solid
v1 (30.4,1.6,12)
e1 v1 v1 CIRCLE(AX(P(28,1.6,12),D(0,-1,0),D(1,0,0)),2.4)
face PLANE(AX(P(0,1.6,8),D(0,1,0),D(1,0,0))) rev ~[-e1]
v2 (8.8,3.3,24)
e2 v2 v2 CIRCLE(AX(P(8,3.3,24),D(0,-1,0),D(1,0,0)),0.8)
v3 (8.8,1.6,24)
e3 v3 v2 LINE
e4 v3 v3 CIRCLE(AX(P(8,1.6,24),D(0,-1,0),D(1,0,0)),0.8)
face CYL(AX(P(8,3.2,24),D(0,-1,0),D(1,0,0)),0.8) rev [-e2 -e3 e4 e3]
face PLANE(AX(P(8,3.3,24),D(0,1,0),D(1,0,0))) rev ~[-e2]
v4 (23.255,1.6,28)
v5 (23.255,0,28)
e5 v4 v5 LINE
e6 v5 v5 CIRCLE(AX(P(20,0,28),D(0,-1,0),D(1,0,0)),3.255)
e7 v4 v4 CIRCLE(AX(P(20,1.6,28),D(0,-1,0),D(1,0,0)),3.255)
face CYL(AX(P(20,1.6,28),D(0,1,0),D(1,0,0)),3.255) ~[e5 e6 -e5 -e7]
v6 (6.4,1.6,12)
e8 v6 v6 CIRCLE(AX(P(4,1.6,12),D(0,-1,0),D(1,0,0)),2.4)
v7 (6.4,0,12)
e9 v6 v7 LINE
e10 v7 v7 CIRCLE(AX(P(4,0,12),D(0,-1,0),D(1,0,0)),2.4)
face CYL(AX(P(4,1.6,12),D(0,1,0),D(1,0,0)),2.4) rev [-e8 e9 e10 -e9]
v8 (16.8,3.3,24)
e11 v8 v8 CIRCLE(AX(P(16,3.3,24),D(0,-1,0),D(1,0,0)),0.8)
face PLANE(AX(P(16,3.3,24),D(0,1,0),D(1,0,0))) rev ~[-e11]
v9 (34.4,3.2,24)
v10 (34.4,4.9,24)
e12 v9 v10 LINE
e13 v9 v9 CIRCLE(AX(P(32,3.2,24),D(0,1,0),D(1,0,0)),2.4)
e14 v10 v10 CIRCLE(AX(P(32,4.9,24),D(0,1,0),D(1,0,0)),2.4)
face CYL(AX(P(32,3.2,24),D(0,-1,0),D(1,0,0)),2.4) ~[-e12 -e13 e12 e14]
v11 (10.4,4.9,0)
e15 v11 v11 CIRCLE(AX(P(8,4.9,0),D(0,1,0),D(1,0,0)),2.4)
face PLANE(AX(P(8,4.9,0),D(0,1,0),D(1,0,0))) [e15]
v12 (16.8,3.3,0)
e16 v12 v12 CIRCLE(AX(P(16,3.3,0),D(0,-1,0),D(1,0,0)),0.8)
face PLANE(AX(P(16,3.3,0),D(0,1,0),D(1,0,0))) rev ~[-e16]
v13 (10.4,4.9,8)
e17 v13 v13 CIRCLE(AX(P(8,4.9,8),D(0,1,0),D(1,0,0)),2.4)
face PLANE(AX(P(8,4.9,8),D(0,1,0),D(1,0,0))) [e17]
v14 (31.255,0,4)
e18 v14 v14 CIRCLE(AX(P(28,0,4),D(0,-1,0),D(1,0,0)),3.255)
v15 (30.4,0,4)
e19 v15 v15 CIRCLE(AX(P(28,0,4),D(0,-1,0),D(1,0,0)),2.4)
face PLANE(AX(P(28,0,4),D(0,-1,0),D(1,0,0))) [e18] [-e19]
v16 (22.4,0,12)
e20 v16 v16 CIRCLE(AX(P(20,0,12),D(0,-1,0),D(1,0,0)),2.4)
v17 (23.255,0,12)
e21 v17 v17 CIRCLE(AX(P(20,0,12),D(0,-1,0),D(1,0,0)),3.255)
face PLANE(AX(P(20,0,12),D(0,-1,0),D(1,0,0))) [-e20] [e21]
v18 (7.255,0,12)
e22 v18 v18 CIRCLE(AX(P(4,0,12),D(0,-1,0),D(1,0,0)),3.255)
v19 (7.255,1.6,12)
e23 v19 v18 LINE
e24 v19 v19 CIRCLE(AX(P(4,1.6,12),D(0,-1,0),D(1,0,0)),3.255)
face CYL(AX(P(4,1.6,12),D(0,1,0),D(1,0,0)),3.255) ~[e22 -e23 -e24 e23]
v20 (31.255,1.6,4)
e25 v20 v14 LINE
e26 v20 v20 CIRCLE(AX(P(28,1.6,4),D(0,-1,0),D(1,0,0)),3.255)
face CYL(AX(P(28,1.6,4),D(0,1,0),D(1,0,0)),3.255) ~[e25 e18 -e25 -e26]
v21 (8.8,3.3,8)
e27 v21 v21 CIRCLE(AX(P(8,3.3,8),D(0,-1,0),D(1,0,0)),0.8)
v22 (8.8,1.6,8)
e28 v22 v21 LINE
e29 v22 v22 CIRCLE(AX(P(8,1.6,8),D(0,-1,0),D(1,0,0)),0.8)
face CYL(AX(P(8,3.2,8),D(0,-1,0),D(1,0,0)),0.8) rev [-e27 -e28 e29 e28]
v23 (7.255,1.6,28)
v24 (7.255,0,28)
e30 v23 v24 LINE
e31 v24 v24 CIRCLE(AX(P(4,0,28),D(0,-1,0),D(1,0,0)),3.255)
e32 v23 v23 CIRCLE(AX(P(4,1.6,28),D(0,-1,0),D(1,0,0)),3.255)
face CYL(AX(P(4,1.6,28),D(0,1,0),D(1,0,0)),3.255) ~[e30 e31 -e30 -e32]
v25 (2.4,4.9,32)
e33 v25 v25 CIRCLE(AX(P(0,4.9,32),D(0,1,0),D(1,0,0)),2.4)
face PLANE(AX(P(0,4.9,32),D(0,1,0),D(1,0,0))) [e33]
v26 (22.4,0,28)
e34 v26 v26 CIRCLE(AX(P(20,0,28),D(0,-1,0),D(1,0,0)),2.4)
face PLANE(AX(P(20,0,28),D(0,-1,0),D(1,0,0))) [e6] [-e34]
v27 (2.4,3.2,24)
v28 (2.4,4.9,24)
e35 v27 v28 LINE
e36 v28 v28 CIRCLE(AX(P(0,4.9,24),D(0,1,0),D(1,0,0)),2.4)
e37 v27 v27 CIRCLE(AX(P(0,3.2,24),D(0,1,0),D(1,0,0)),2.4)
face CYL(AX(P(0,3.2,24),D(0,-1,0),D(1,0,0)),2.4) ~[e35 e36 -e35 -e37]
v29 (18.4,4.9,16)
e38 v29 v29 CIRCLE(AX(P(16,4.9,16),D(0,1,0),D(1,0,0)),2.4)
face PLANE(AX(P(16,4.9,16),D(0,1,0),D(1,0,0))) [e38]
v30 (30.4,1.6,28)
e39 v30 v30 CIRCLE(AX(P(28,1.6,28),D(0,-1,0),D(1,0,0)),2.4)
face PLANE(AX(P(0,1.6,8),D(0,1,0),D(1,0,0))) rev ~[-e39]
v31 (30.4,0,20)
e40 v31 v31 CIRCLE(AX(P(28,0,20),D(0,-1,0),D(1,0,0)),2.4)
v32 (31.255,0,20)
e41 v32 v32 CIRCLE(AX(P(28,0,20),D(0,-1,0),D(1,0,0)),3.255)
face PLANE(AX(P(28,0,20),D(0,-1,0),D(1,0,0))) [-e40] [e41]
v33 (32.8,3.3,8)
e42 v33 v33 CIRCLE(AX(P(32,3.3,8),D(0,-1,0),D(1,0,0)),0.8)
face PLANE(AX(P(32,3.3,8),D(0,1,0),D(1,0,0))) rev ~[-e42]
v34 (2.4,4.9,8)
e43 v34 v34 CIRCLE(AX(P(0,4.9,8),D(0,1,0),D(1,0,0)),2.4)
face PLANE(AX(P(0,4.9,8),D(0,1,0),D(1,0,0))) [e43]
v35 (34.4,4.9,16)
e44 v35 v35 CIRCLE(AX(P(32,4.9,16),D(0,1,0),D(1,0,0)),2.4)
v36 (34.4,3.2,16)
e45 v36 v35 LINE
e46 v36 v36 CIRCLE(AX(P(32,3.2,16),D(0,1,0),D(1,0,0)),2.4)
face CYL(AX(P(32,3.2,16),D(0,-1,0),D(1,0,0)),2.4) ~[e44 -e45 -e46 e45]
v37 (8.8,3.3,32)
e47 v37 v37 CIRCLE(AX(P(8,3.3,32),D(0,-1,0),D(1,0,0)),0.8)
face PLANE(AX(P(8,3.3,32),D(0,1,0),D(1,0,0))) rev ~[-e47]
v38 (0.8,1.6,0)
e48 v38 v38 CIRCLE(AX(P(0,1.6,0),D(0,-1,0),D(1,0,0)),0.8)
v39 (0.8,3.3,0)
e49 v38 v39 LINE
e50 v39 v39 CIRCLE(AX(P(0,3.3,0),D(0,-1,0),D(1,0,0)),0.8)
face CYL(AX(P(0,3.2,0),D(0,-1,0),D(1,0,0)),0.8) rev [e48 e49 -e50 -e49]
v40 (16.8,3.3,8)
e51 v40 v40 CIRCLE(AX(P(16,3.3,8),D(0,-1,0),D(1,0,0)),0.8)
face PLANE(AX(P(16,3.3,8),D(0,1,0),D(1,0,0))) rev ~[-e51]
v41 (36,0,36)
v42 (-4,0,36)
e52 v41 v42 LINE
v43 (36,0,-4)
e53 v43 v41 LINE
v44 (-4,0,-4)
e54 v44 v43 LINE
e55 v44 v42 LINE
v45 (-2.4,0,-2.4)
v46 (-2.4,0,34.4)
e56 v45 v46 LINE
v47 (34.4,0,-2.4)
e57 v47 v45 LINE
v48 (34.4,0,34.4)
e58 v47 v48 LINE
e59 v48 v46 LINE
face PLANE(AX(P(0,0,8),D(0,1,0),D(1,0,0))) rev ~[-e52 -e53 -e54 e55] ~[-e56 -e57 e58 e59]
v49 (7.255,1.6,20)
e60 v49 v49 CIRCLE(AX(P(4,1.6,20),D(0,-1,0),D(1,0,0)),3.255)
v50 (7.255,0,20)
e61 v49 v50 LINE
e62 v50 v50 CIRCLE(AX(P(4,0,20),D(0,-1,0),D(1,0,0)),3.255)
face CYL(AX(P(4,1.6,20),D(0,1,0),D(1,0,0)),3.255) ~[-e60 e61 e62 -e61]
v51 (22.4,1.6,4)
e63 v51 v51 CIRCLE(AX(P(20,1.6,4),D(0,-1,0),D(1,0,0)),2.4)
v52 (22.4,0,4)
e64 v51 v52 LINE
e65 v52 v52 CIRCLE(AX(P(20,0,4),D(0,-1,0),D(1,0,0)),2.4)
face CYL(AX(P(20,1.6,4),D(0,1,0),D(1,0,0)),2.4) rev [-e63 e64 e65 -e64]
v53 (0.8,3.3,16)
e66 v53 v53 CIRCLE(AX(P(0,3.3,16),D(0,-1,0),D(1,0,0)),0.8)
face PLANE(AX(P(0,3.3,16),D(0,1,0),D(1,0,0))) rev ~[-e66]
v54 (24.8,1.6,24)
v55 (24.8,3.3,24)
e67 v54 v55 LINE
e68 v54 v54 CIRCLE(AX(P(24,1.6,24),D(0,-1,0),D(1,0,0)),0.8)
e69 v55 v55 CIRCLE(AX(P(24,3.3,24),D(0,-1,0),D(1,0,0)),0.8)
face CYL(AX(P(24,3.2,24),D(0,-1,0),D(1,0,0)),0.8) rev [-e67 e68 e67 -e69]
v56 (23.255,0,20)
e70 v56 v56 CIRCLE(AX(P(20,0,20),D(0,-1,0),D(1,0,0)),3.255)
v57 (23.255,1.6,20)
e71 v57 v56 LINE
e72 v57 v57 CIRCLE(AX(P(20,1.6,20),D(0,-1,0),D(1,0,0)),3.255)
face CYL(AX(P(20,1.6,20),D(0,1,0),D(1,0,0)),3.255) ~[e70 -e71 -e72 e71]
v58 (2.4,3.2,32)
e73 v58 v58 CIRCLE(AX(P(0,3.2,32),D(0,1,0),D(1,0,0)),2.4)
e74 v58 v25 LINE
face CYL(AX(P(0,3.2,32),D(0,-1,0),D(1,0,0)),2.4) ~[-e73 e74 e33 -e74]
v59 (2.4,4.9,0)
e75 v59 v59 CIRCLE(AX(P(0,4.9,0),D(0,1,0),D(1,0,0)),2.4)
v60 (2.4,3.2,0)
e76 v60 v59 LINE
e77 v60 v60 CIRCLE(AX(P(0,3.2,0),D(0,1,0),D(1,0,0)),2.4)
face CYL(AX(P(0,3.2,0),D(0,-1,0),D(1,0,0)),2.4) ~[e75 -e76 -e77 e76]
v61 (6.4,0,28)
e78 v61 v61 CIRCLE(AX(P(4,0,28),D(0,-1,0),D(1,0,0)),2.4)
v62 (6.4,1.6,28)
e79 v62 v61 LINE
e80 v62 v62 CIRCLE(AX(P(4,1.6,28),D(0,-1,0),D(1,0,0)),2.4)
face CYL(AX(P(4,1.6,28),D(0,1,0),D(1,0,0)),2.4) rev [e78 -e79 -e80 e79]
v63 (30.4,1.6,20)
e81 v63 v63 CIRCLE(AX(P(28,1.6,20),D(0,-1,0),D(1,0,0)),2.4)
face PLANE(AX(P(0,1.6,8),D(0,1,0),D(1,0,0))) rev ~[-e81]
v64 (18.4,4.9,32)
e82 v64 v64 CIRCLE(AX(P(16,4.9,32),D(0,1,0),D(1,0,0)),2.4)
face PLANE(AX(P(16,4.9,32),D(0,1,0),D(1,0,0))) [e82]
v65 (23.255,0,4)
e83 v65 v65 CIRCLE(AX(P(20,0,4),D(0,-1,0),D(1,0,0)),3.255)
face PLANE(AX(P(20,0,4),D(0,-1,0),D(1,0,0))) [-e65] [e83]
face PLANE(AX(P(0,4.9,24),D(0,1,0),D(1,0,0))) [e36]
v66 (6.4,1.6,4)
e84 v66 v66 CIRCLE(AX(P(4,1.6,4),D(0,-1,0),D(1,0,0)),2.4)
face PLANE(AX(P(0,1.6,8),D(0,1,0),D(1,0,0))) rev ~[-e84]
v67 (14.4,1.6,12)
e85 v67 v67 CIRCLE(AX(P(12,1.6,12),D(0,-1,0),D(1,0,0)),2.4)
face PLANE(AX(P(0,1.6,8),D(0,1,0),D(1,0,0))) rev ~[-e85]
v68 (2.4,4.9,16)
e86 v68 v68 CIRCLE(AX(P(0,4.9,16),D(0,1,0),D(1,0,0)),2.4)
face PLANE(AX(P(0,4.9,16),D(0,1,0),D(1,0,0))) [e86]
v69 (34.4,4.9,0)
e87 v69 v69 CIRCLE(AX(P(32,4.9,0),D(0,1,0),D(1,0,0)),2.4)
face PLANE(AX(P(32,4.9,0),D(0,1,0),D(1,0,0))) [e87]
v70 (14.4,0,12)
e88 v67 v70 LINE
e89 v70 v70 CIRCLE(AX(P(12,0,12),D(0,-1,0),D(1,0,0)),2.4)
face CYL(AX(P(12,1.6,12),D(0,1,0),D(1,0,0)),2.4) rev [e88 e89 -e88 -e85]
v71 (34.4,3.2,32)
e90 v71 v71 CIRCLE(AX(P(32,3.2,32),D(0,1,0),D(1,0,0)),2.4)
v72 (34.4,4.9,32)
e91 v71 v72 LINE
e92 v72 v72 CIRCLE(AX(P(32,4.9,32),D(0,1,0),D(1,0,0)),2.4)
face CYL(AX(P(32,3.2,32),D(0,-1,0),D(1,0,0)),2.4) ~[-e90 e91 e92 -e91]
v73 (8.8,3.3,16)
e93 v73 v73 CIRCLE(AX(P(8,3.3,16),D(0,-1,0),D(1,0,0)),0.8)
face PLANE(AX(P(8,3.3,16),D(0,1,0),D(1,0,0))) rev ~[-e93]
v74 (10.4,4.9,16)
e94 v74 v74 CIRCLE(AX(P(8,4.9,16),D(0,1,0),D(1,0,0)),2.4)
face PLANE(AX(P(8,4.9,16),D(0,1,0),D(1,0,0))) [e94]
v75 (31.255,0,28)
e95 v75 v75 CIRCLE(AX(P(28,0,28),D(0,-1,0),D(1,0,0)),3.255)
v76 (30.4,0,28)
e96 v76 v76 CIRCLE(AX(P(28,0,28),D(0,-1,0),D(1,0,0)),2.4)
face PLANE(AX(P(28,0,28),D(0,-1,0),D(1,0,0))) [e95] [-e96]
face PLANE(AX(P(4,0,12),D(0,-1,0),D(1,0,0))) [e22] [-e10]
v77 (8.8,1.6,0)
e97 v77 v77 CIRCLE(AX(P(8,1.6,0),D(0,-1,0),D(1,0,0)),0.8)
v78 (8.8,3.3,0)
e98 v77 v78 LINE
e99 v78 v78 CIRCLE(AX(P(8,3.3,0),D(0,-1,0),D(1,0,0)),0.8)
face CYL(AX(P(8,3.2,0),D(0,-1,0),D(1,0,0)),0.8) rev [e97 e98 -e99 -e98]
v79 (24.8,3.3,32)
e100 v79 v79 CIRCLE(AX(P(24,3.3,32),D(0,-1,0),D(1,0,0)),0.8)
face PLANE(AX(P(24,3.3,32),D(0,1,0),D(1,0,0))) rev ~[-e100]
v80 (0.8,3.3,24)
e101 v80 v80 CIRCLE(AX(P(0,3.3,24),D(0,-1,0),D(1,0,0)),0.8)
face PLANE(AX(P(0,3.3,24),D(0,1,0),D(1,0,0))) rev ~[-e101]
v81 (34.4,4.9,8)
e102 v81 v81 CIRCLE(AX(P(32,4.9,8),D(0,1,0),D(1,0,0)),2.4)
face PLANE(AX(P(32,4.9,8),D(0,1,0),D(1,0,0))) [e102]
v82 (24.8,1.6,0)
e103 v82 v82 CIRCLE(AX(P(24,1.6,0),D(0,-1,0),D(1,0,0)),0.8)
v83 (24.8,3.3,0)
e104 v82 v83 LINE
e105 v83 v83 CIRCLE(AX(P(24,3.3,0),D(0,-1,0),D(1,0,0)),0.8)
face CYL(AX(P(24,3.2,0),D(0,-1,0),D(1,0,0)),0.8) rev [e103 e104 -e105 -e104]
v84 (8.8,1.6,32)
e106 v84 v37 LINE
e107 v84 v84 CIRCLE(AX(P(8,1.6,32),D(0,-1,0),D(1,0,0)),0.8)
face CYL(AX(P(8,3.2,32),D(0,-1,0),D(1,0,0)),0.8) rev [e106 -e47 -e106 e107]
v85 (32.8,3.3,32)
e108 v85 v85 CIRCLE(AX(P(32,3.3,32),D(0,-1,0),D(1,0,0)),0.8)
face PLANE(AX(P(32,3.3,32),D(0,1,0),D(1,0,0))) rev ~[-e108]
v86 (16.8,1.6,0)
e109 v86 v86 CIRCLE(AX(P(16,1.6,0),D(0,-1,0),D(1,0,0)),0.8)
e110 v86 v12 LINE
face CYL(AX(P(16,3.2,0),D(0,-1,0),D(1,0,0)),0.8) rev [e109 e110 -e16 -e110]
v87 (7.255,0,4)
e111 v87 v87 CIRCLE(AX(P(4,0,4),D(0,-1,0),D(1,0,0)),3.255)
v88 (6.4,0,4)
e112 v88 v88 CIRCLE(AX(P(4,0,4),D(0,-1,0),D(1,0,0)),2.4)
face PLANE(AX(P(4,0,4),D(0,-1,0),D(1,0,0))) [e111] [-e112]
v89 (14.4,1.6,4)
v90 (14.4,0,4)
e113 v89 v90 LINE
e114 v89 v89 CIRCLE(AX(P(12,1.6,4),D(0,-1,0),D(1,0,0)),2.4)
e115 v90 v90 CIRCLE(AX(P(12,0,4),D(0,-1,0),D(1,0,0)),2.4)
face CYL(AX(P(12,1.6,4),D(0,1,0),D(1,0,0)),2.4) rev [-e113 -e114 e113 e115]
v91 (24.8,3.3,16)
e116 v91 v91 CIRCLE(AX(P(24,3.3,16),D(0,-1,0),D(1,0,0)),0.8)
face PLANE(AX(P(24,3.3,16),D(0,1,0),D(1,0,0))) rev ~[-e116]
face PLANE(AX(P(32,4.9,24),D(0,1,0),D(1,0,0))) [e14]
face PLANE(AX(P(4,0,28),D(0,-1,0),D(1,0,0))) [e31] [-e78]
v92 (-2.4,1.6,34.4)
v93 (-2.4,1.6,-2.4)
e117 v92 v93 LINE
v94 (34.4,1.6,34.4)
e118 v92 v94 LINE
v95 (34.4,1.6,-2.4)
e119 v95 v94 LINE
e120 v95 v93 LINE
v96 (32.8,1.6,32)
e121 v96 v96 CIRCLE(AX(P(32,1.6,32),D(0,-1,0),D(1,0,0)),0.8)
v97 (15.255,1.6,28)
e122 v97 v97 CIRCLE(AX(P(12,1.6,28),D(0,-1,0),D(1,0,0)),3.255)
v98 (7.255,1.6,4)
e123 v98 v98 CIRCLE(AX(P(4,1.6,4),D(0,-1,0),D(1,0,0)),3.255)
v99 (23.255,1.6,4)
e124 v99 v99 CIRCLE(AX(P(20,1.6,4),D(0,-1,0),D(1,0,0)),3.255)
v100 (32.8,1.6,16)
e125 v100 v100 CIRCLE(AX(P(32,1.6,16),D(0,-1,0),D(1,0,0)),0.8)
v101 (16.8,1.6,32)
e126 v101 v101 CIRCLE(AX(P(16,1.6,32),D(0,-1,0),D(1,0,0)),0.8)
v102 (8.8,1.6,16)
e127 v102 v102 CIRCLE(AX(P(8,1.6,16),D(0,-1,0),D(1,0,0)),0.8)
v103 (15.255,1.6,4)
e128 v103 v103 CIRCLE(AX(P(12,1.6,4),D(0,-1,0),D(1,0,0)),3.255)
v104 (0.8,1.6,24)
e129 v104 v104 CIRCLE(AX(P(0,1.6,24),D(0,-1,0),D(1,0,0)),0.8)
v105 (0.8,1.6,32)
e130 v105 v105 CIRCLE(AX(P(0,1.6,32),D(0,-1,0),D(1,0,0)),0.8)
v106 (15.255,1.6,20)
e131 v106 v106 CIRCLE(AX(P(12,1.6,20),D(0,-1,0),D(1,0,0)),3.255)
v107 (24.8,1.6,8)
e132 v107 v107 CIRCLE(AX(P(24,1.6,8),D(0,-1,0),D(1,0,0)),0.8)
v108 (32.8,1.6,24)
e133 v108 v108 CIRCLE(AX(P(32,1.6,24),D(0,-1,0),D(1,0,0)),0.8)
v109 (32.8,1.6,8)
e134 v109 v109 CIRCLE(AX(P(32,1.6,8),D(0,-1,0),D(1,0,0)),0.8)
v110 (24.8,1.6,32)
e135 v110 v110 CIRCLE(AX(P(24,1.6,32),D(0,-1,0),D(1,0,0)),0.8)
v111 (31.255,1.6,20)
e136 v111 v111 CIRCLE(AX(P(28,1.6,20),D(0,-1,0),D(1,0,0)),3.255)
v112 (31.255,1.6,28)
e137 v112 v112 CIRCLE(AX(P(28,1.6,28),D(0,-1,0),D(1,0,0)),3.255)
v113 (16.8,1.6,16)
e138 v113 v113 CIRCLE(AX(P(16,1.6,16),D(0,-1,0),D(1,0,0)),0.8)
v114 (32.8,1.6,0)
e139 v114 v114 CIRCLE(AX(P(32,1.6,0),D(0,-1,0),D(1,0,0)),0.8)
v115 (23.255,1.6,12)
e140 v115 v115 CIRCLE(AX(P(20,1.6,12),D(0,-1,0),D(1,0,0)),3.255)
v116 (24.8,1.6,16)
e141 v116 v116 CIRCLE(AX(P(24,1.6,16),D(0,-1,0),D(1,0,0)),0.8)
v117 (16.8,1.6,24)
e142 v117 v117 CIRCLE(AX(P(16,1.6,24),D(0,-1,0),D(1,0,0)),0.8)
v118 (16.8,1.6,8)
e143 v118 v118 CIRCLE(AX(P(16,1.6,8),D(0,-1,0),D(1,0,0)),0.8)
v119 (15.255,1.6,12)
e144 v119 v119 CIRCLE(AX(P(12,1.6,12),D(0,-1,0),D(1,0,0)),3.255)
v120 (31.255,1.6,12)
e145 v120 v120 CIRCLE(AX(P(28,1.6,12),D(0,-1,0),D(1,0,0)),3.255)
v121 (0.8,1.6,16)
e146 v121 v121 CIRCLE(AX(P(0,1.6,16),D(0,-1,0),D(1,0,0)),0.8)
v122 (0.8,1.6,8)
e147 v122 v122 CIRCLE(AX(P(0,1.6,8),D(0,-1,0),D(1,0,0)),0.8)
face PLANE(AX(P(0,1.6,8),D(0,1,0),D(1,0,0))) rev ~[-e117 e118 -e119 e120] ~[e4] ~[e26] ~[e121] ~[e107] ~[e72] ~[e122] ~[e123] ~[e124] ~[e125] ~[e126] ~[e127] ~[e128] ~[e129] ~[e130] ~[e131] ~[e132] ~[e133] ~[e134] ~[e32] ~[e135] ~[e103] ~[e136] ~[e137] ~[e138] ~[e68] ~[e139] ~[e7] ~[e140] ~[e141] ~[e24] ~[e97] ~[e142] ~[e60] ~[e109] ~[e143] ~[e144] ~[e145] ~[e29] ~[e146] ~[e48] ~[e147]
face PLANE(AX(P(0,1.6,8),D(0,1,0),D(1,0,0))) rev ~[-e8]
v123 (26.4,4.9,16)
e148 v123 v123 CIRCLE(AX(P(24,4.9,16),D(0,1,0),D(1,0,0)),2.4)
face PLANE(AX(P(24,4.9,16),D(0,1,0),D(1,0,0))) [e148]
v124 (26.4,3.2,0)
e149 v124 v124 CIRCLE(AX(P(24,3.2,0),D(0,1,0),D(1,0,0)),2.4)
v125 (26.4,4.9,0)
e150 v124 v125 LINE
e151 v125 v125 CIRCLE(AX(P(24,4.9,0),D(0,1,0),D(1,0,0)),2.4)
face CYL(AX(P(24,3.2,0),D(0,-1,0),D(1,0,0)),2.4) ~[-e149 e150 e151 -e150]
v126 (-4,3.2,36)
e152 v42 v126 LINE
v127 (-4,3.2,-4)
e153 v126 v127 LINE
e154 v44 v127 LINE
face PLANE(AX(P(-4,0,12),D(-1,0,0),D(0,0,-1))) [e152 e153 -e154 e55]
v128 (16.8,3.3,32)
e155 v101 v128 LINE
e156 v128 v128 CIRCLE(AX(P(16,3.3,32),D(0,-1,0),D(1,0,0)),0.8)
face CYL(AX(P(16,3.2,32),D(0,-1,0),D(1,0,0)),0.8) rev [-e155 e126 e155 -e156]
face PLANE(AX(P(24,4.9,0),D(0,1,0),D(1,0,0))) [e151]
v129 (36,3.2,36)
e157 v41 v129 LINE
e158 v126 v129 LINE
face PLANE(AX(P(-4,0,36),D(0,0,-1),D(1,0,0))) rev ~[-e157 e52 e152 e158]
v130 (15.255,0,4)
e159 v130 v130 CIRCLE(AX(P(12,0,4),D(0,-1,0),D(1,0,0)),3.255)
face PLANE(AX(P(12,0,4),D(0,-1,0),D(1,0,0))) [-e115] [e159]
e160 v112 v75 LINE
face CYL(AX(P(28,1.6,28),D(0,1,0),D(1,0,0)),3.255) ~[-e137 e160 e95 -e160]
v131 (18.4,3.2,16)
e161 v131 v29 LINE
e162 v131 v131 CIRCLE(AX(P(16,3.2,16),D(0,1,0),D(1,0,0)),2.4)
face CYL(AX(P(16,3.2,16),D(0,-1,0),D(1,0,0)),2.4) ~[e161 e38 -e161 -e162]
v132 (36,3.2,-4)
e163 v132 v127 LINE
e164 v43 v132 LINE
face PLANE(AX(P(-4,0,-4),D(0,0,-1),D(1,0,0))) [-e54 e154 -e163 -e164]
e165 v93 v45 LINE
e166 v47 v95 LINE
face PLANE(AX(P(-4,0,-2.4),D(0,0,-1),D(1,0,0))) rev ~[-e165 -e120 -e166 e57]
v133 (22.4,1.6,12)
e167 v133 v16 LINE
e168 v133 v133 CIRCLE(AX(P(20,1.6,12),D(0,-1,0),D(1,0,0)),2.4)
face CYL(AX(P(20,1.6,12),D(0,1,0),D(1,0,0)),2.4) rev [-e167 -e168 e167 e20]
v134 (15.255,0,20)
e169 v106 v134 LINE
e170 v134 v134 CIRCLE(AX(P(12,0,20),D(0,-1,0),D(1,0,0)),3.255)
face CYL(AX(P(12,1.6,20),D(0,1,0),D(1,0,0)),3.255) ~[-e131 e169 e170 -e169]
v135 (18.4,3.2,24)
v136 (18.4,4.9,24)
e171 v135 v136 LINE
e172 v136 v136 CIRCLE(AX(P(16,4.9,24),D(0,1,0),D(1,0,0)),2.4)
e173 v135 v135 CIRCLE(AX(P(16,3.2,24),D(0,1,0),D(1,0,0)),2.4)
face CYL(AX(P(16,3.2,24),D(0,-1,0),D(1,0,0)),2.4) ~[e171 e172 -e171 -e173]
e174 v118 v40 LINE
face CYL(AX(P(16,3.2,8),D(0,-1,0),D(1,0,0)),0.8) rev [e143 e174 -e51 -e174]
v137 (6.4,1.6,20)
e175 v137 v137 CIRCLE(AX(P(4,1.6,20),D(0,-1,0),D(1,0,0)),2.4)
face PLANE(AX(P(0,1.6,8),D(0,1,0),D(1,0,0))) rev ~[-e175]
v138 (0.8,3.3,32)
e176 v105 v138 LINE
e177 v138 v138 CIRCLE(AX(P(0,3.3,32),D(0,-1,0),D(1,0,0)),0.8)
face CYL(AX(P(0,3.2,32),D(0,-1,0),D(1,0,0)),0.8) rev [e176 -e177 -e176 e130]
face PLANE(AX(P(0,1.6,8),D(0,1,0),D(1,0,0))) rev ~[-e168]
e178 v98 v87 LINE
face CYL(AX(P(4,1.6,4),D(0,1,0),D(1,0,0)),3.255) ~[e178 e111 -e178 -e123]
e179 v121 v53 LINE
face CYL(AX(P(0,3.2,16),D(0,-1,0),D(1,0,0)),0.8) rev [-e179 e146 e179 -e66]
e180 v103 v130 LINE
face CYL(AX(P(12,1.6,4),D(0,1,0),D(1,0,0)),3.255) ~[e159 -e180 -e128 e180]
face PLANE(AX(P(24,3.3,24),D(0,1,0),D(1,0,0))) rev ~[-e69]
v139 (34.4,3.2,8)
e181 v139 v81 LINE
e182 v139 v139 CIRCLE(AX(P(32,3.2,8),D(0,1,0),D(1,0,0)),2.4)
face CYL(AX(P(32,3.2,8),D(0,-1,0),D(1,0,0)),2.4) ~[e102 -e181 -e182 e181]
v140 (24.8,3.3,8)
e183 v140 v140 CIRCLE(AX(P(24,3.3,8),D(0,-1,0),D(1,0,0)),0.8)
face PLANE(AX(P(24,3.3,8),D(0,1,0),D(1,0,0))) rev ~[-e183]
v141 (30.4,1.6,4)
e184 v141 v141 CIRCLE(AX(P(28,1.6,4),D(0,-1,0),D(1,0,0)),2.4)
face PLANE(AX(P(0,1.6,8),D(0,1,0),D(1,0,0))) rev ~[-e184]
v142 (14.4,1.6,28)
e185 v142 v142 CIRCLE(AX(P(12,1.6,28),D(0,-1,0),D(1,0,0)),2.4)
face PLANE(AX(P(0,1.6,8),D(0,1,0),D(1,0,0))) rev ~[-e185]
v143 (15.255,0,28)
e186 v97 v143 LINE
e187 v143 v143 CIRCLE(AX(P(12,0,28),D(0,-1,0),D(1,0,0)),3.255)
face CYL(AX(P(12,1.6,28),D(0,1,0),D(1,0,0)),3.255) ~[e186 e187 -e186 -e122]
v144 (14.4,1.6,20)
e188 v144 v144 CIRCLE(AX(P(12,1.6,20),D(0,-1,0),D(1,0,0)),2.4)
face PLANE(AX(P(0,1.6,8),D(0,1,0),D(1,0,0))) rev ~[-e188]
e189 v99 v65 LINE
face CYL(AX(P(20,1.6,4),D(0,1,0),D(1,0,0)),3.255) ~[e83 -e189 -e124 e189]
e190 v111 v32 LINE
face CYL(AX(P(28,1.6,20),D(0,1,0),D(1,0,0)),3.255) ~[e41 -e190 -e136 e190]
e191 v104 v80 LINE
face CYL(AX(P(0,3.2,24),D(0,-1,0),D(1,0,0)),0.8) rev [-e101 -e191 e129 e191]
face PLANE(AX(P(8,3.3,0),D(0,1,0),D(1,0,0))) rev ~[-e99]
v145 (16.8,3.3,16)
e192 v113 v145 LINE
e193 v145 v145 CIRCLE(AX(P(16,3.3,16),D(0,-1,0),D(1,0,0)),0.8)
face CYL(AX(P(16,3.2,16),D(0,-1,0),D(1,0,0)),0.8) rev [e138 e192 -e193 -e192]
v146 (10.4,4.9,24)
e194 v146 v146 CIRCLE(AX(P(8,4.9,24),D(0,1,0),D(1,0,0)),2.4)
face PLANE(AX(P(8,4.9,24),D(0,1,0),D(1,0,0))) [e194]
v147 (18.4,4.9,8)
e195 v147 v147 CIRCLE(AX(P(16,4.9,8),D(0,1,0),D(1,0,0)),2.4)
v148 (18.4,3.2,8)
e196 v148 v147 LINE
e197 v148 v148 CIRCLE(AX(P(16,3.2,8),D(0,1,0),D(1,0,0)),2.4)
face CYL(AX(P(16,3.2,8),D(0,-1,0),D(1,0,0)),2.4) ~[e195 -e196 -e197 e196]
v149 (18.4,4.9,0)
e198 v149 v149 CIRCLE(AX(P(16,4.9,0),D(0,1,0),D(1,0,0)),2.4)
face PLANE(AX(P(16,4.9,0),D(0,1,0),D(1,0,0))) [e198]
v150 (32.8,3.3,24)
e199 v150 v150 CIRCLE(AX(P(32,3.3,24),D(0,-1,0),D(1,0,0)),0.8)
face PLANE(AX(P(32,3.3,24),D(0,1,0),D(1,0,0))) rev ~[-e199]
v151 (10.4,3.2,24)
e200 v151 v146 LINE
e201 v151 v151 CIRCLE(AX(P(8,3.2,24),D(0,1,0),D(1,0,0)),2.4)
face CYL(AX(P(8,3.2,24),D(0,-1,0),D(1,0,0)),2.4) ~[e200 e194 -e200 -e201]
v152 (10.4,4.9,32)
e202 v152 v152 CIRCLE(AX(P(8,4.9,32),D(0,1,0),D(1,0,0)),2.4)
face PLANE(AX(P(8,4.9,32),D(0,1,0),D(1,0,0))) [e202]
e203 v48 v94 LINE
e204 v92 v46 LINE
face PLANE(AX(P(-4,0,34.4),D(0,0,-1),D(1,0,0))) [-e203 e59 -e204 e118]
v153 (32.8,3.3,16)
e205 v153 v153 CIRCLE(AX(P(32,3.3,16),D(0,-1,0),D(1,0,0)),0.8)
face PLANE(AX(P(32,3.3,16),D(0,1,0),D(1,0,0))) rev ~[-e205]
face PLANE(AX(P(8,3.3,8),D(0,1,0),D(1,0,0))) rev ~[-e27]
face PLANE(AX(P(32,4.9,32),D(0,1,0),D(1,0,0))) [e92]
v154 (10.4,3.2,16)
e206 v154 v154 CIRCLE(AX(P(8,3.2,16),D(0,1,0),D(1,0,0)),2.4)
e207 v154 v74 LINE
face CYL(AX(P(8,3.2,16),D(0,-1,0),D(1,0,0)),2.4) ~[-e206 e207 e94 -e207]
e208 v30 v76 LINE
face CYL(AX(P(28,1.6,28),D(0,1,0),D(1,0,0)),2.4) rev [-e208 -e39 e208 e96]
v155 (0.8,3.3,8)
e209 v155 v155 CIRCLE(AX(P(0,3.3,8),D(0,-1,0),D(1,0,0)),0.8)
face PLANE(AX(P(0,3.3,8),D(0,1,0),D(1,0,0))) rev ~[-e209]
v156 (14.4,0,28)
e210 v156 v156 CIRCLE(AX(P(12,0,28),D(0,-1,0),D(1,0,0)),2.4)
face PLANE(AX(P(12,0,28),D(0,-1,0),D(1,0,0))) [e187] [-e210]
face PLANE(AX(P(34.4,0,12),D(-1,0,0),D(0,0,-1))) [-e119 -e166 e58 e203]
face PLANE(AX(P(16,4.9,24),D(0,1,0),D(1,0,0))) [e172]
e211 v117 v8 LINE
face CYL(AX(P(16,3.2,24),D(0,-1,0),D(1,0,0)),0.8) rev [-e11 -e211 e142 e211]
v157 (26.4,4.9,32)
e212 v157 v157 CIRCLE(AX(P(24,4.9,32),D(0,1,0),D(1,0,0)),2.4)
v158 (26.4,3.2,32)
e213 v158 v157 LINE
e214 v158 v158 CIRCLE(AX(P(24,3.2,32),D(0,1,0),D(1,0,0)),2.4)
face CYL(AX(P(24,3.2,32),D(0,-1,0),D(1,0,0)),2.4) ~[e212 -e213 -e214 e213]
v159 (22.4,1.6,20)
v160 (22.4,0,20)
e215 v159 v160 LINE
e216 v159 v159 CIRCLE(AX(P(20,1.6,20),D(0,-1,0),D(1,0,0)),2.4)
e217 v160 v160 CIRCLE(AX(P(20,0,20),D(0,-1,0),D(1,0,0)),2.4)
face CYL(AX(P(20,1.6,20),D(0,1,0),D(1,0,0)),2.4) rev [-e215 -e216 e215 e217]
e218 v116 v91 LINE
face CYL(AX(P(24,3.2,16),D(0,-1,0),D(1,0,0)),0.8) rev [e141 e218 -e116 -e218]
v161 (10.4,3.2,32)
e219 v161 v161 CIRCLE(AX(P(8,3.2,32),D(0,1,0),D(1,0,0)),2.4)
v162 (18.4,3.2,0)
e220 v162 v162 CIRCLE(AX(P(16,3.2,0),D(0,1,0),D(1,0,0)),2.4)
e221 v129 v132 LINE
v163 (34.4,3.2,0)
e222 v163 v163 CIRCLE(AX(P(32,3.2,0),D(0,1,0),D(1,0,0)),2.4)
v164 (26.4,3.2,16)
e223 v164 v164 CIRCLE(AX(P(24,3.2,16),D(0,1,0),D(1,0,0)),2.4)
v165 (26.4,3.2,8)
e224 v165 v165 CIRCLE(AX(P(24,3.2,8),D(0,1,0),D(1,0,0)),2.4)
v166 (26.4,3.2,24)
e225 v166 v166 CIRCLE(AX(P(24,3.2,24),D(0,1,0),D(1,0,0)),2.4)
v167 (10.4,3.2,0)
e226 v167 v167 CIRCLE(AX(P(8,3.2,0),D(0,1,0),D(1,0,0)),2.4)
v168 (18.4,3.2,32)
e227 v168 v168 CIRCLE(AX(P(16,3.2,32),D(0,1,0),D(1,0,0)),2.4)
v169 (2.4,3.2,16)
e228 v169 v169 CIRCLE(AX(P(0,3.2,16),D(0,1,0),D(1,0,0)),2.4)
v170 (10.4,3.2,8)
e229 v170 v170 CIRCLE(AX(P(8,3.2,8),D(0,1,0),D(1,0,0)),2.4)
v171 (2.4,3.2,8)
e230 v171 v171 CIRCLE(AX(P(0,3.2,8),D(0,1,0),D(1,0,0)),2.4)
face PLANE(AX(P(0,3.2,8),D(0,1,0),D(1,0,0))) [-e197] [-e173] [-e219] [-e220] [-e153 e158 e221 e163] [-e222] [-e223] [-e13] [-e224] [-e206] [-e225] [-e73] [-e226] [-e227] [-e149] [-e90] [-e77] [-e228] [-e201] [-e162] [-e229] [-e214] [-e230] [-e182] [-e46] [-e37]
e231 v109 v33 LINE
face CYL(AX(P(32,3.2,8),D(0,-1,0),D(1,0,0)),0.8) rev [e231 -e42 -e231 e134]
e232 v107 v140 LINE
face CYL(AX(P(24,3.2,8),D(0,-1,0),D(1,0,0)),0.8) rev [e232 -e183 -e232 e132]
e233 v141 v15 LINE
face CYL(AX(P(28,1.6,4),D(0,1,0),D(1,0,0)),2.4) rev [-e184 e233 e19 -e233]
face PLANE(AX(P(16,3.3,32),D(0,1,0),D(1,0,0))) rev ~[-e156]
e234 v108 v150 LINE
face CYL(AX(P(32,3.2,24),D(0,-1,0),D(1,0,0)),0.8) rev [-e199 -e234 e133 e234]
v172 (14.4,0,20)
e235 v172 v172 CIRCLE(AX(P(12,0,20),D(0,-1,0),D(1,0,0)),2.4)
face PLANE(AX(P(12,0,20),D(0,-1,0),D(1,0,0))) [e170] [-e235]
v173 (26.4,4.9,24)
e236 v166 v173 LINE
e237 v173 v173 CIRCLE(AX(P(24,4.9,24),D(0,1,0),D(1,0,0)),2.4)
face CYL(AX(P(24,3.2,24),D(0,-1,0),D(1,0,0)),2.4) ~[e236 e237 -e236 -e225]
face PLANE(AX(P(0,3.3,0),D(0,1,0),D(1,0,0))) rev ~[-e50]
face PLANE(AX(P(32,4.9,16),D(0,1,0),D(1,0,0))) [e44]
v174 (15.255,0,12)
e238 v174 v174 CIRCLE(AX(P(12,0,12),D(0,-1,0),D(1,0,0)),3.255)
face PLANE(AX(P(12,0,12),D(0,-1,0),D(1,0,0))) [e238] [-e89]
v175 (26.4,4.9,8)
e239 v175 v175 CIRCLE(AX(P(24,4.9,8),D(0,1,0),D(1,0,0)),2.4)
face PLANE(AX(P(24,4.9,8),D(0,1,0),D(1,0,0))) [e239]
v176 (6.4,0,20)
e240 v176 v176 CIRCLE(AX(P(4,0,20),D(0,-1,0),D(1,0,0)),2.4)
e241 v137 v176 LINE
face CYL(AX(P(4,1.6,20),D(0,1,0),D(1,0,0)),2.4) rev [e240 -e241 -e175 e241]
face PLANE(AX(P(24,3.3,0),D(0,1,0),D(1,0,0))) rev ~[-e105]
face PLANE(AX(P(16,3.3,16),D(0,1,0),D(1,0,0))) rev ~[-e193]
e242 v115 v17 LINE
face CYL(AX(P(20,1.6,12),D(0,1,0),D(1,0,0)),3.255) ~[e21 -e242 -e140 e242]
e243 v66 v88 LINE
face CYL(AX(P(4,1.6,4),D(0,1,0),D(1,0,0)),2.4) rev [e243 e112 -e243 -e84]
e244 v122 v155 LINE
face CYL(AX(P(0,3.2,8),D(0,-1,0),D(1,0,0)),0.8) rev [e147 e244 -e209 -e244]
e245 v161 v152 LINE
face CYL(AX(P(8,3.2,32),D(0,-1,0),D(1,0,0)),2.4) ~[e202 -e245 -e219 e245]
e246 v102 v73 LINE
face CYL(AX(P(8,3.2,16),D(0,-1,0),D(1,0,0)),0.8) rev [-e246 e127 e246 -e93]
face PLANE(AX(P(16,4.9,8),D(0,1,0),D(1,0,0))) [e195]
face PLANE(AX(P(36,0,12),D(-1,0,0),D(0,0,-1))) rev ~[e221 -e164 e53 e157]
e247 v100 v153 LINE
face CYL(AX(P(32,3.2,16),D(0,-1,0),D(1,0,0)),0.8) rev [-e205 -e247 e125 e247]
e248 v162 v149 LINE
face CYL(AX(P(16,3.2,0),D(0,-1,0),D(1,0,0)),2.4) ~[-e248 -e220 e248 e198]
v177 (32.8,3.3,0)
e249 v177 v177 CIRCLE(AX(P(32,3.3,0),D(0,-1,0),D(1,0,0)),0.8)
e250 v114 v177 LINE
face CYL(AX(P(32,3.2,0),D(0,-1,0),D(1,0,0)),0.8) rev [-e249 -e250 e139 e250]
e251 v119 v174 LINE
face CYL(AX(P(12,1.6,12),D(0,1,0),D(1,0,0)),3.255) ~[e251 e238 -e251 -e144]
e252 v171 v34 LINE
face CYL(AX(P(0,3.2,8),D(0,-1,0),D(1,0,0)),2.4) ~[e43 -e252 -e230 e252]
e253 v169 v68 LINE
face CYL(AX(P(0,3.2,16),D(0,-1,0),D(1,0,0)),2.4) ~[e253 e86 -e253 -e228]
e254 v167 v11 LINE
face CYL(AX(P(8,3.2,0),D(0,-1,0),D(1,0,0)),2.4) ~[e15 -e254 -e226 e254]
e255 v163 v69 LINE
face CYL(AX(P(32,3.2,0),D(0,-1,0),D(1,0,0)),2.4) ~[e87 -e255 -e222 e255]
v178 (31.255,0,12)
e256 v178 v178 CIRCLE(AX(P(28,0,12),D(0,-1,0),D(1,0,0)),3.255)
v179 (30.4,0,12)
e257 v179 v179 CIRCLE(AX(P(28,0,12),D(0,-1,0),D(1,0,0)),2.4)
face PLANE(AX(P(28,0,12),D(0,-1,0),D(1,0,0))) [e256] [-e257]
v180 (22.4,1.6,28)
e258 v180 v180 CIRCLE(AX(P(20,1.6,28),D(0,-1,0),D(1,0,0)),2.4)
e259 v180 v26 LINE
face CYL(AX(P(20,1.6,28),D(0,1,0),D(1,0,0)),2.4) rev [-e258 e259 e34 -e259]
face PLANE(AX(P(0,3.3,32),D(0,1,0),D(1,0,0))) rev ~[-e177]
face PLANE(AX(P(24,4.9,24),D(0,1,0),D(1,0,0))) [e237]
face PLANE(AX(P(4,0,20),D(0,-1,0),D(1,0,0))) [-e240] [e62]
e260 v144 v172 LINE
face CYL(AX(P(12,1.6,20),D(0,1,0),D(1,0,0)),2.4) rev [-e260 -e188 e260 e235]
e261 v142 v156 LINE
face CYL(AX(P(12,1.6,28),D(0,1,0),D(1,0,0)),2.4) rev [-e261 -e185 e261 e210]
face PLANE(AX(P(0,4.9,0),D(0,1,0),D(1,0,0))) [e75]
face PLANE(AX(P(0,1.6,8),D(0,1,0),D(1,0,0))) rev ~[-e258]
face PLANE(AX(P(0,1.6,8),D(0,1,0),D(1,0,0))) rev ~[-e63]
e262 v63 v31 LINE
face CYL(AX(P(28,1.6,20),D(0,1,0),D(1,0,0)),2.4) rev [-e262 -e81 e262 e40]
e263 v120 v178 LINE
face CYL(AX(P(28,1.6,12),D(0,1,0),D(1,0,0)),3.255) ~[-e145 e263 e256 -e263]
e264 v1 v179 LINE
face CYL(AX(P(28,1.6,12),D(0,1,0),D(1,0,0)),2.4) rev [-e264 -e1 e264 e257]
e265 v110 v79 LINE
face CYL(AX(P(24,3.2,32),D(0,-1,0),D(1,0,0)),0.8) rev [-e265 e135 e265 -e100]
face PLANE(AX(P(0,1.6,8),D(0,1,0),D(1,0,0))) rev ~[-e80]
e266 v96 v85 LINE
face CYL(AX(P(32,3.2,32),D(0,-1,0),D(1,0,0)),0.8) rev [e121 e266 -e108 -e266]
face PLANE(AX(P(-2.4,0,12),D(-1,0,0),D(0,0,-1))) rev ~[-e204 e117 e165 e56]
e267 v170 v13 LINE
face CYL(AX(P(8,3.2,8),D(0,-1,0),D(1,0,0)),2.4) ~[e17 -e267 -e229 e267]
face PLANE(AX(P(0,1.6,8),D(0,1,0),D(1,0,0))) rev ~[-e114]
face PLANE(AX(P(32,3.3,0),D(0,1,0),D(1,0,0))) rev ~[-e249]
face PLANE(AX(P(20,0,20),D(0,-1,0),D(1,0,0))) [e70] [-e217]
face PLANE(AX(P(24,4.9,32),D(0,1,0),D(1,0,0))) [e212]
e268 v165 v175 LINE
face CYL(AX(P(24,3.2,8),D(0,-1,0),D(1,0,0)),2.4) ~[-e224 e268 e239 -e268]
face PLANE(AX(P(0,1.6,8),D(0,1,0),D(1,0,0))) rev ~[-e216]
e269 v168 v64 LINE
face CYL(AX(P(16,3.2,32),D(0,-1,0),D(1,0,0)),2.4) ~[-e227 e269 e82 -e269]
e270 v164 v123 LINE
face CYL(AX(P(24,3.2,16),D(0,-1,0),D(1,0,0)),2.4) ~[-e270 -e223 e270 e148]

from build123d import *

# Parameters (mm, degrees)
SKETCH_1_W                  = 8
SKETCH_1_H                  = 8
HEIGHT_DEPTH                = 3.2
SKETCH_2_R                  = 2.4
EXTRUDE_2_DEPTH             = 1.7
PATTERN_LINEAR_1_COUNT      = 5
PATTERN_LINEAR_1_PITCH      = 8
PATTERN_LINEAR_1_COUNT_DIR2 = 5
PATTERN_LINEAR_1_PITCH_DIR2 = 8
SHELL_1_T                   = -1.6
SKETCH_3_R                  = 3.255
SKETCH_3_R_2                = 2.4
EXTRUDE_3_DEPTH             = 1.6
PATTERN_LINEAR_2_COUNT      = 4
PATTERN_LINEAR_2_PITCH      = 8
PATTERN_LINEAR_2_COUNT_DIR2 = 4
PATTERN_LINEAR_2_PITCH_DIR2 = 8


with BuildPart() as part:
    # 草圖1 → height (new body)
    with BuildSketch(Plane(origin=(0, 0, 0), x_dir=(1, 0, 0), z_dir=(0, 1, 0))):
        Rectangle(SKETCH_1_W, SKETCH_1_H)
    height = extrude(amount=HEIGHT_DEPTH)

    # 草圖2 → 填料-伸長2 (add)
    with BuildSketch(Plane(origin=(0, 3.2, 0), x_dir=(1, 0, 0), z_dir=(0, 1, 0))):
        Circle(SKETCH_2_R)
    extrude_2 = extrude(amount=EXTRUDE_2_DEPTH)

    # 直線複製排列1: height, Extrude 2 5 × 5
    with Locations(*[(i * PATTERN_LINEAR_1_PITCH, 0, j * PATTERN_LINEAR_1_PITCH_DIR2) for i in range(PATTERN_LINEAR_1_COUNT) for j in range(PATTERN_LINEAR_1_COUNT_DIR2) if (i, j) != (0, 0)]):
        add(height)
        add(extrude_2)

    # 薄殼1
    shell_1_openings = [part.faces().sort_by_distance(p)[0] for p in [
        (16, 0, 16),
    ]]
    offset(amount=SHELL_1_T, openings=shell_1_openings, kind=Kind.INTERSECTION)

    # 草圖3 → 填料-伸長3 (add)
    with BuildSketch(Plane.XZ.offset(-1.6)):
        with Locations((4, 4)):
            Circle(SKETCH_3_R)
        with Locations((4, 4)):
            Circle(SKETCH_3_R_2, mode=Mode.SUBTRACT)
    extrude_3 = extrude(amount=EXTRUDE_3_DEPTH)

    # 直線複製排列2: Extrude 3 4 × 4
    with Locations(*[(j * PATTERN_LINEAR_2_PITCH_DIR2, 0, i * PATTERN_LINEAR_2_PITCH) for i in range(PATTERN_LINEAR_2_COUNT) for j in range(PATTERN_LINEAR_2_COUNT_DIR2) if (i, j) != (0, 0)]):
        add(extrude_3)


solid = part.part
